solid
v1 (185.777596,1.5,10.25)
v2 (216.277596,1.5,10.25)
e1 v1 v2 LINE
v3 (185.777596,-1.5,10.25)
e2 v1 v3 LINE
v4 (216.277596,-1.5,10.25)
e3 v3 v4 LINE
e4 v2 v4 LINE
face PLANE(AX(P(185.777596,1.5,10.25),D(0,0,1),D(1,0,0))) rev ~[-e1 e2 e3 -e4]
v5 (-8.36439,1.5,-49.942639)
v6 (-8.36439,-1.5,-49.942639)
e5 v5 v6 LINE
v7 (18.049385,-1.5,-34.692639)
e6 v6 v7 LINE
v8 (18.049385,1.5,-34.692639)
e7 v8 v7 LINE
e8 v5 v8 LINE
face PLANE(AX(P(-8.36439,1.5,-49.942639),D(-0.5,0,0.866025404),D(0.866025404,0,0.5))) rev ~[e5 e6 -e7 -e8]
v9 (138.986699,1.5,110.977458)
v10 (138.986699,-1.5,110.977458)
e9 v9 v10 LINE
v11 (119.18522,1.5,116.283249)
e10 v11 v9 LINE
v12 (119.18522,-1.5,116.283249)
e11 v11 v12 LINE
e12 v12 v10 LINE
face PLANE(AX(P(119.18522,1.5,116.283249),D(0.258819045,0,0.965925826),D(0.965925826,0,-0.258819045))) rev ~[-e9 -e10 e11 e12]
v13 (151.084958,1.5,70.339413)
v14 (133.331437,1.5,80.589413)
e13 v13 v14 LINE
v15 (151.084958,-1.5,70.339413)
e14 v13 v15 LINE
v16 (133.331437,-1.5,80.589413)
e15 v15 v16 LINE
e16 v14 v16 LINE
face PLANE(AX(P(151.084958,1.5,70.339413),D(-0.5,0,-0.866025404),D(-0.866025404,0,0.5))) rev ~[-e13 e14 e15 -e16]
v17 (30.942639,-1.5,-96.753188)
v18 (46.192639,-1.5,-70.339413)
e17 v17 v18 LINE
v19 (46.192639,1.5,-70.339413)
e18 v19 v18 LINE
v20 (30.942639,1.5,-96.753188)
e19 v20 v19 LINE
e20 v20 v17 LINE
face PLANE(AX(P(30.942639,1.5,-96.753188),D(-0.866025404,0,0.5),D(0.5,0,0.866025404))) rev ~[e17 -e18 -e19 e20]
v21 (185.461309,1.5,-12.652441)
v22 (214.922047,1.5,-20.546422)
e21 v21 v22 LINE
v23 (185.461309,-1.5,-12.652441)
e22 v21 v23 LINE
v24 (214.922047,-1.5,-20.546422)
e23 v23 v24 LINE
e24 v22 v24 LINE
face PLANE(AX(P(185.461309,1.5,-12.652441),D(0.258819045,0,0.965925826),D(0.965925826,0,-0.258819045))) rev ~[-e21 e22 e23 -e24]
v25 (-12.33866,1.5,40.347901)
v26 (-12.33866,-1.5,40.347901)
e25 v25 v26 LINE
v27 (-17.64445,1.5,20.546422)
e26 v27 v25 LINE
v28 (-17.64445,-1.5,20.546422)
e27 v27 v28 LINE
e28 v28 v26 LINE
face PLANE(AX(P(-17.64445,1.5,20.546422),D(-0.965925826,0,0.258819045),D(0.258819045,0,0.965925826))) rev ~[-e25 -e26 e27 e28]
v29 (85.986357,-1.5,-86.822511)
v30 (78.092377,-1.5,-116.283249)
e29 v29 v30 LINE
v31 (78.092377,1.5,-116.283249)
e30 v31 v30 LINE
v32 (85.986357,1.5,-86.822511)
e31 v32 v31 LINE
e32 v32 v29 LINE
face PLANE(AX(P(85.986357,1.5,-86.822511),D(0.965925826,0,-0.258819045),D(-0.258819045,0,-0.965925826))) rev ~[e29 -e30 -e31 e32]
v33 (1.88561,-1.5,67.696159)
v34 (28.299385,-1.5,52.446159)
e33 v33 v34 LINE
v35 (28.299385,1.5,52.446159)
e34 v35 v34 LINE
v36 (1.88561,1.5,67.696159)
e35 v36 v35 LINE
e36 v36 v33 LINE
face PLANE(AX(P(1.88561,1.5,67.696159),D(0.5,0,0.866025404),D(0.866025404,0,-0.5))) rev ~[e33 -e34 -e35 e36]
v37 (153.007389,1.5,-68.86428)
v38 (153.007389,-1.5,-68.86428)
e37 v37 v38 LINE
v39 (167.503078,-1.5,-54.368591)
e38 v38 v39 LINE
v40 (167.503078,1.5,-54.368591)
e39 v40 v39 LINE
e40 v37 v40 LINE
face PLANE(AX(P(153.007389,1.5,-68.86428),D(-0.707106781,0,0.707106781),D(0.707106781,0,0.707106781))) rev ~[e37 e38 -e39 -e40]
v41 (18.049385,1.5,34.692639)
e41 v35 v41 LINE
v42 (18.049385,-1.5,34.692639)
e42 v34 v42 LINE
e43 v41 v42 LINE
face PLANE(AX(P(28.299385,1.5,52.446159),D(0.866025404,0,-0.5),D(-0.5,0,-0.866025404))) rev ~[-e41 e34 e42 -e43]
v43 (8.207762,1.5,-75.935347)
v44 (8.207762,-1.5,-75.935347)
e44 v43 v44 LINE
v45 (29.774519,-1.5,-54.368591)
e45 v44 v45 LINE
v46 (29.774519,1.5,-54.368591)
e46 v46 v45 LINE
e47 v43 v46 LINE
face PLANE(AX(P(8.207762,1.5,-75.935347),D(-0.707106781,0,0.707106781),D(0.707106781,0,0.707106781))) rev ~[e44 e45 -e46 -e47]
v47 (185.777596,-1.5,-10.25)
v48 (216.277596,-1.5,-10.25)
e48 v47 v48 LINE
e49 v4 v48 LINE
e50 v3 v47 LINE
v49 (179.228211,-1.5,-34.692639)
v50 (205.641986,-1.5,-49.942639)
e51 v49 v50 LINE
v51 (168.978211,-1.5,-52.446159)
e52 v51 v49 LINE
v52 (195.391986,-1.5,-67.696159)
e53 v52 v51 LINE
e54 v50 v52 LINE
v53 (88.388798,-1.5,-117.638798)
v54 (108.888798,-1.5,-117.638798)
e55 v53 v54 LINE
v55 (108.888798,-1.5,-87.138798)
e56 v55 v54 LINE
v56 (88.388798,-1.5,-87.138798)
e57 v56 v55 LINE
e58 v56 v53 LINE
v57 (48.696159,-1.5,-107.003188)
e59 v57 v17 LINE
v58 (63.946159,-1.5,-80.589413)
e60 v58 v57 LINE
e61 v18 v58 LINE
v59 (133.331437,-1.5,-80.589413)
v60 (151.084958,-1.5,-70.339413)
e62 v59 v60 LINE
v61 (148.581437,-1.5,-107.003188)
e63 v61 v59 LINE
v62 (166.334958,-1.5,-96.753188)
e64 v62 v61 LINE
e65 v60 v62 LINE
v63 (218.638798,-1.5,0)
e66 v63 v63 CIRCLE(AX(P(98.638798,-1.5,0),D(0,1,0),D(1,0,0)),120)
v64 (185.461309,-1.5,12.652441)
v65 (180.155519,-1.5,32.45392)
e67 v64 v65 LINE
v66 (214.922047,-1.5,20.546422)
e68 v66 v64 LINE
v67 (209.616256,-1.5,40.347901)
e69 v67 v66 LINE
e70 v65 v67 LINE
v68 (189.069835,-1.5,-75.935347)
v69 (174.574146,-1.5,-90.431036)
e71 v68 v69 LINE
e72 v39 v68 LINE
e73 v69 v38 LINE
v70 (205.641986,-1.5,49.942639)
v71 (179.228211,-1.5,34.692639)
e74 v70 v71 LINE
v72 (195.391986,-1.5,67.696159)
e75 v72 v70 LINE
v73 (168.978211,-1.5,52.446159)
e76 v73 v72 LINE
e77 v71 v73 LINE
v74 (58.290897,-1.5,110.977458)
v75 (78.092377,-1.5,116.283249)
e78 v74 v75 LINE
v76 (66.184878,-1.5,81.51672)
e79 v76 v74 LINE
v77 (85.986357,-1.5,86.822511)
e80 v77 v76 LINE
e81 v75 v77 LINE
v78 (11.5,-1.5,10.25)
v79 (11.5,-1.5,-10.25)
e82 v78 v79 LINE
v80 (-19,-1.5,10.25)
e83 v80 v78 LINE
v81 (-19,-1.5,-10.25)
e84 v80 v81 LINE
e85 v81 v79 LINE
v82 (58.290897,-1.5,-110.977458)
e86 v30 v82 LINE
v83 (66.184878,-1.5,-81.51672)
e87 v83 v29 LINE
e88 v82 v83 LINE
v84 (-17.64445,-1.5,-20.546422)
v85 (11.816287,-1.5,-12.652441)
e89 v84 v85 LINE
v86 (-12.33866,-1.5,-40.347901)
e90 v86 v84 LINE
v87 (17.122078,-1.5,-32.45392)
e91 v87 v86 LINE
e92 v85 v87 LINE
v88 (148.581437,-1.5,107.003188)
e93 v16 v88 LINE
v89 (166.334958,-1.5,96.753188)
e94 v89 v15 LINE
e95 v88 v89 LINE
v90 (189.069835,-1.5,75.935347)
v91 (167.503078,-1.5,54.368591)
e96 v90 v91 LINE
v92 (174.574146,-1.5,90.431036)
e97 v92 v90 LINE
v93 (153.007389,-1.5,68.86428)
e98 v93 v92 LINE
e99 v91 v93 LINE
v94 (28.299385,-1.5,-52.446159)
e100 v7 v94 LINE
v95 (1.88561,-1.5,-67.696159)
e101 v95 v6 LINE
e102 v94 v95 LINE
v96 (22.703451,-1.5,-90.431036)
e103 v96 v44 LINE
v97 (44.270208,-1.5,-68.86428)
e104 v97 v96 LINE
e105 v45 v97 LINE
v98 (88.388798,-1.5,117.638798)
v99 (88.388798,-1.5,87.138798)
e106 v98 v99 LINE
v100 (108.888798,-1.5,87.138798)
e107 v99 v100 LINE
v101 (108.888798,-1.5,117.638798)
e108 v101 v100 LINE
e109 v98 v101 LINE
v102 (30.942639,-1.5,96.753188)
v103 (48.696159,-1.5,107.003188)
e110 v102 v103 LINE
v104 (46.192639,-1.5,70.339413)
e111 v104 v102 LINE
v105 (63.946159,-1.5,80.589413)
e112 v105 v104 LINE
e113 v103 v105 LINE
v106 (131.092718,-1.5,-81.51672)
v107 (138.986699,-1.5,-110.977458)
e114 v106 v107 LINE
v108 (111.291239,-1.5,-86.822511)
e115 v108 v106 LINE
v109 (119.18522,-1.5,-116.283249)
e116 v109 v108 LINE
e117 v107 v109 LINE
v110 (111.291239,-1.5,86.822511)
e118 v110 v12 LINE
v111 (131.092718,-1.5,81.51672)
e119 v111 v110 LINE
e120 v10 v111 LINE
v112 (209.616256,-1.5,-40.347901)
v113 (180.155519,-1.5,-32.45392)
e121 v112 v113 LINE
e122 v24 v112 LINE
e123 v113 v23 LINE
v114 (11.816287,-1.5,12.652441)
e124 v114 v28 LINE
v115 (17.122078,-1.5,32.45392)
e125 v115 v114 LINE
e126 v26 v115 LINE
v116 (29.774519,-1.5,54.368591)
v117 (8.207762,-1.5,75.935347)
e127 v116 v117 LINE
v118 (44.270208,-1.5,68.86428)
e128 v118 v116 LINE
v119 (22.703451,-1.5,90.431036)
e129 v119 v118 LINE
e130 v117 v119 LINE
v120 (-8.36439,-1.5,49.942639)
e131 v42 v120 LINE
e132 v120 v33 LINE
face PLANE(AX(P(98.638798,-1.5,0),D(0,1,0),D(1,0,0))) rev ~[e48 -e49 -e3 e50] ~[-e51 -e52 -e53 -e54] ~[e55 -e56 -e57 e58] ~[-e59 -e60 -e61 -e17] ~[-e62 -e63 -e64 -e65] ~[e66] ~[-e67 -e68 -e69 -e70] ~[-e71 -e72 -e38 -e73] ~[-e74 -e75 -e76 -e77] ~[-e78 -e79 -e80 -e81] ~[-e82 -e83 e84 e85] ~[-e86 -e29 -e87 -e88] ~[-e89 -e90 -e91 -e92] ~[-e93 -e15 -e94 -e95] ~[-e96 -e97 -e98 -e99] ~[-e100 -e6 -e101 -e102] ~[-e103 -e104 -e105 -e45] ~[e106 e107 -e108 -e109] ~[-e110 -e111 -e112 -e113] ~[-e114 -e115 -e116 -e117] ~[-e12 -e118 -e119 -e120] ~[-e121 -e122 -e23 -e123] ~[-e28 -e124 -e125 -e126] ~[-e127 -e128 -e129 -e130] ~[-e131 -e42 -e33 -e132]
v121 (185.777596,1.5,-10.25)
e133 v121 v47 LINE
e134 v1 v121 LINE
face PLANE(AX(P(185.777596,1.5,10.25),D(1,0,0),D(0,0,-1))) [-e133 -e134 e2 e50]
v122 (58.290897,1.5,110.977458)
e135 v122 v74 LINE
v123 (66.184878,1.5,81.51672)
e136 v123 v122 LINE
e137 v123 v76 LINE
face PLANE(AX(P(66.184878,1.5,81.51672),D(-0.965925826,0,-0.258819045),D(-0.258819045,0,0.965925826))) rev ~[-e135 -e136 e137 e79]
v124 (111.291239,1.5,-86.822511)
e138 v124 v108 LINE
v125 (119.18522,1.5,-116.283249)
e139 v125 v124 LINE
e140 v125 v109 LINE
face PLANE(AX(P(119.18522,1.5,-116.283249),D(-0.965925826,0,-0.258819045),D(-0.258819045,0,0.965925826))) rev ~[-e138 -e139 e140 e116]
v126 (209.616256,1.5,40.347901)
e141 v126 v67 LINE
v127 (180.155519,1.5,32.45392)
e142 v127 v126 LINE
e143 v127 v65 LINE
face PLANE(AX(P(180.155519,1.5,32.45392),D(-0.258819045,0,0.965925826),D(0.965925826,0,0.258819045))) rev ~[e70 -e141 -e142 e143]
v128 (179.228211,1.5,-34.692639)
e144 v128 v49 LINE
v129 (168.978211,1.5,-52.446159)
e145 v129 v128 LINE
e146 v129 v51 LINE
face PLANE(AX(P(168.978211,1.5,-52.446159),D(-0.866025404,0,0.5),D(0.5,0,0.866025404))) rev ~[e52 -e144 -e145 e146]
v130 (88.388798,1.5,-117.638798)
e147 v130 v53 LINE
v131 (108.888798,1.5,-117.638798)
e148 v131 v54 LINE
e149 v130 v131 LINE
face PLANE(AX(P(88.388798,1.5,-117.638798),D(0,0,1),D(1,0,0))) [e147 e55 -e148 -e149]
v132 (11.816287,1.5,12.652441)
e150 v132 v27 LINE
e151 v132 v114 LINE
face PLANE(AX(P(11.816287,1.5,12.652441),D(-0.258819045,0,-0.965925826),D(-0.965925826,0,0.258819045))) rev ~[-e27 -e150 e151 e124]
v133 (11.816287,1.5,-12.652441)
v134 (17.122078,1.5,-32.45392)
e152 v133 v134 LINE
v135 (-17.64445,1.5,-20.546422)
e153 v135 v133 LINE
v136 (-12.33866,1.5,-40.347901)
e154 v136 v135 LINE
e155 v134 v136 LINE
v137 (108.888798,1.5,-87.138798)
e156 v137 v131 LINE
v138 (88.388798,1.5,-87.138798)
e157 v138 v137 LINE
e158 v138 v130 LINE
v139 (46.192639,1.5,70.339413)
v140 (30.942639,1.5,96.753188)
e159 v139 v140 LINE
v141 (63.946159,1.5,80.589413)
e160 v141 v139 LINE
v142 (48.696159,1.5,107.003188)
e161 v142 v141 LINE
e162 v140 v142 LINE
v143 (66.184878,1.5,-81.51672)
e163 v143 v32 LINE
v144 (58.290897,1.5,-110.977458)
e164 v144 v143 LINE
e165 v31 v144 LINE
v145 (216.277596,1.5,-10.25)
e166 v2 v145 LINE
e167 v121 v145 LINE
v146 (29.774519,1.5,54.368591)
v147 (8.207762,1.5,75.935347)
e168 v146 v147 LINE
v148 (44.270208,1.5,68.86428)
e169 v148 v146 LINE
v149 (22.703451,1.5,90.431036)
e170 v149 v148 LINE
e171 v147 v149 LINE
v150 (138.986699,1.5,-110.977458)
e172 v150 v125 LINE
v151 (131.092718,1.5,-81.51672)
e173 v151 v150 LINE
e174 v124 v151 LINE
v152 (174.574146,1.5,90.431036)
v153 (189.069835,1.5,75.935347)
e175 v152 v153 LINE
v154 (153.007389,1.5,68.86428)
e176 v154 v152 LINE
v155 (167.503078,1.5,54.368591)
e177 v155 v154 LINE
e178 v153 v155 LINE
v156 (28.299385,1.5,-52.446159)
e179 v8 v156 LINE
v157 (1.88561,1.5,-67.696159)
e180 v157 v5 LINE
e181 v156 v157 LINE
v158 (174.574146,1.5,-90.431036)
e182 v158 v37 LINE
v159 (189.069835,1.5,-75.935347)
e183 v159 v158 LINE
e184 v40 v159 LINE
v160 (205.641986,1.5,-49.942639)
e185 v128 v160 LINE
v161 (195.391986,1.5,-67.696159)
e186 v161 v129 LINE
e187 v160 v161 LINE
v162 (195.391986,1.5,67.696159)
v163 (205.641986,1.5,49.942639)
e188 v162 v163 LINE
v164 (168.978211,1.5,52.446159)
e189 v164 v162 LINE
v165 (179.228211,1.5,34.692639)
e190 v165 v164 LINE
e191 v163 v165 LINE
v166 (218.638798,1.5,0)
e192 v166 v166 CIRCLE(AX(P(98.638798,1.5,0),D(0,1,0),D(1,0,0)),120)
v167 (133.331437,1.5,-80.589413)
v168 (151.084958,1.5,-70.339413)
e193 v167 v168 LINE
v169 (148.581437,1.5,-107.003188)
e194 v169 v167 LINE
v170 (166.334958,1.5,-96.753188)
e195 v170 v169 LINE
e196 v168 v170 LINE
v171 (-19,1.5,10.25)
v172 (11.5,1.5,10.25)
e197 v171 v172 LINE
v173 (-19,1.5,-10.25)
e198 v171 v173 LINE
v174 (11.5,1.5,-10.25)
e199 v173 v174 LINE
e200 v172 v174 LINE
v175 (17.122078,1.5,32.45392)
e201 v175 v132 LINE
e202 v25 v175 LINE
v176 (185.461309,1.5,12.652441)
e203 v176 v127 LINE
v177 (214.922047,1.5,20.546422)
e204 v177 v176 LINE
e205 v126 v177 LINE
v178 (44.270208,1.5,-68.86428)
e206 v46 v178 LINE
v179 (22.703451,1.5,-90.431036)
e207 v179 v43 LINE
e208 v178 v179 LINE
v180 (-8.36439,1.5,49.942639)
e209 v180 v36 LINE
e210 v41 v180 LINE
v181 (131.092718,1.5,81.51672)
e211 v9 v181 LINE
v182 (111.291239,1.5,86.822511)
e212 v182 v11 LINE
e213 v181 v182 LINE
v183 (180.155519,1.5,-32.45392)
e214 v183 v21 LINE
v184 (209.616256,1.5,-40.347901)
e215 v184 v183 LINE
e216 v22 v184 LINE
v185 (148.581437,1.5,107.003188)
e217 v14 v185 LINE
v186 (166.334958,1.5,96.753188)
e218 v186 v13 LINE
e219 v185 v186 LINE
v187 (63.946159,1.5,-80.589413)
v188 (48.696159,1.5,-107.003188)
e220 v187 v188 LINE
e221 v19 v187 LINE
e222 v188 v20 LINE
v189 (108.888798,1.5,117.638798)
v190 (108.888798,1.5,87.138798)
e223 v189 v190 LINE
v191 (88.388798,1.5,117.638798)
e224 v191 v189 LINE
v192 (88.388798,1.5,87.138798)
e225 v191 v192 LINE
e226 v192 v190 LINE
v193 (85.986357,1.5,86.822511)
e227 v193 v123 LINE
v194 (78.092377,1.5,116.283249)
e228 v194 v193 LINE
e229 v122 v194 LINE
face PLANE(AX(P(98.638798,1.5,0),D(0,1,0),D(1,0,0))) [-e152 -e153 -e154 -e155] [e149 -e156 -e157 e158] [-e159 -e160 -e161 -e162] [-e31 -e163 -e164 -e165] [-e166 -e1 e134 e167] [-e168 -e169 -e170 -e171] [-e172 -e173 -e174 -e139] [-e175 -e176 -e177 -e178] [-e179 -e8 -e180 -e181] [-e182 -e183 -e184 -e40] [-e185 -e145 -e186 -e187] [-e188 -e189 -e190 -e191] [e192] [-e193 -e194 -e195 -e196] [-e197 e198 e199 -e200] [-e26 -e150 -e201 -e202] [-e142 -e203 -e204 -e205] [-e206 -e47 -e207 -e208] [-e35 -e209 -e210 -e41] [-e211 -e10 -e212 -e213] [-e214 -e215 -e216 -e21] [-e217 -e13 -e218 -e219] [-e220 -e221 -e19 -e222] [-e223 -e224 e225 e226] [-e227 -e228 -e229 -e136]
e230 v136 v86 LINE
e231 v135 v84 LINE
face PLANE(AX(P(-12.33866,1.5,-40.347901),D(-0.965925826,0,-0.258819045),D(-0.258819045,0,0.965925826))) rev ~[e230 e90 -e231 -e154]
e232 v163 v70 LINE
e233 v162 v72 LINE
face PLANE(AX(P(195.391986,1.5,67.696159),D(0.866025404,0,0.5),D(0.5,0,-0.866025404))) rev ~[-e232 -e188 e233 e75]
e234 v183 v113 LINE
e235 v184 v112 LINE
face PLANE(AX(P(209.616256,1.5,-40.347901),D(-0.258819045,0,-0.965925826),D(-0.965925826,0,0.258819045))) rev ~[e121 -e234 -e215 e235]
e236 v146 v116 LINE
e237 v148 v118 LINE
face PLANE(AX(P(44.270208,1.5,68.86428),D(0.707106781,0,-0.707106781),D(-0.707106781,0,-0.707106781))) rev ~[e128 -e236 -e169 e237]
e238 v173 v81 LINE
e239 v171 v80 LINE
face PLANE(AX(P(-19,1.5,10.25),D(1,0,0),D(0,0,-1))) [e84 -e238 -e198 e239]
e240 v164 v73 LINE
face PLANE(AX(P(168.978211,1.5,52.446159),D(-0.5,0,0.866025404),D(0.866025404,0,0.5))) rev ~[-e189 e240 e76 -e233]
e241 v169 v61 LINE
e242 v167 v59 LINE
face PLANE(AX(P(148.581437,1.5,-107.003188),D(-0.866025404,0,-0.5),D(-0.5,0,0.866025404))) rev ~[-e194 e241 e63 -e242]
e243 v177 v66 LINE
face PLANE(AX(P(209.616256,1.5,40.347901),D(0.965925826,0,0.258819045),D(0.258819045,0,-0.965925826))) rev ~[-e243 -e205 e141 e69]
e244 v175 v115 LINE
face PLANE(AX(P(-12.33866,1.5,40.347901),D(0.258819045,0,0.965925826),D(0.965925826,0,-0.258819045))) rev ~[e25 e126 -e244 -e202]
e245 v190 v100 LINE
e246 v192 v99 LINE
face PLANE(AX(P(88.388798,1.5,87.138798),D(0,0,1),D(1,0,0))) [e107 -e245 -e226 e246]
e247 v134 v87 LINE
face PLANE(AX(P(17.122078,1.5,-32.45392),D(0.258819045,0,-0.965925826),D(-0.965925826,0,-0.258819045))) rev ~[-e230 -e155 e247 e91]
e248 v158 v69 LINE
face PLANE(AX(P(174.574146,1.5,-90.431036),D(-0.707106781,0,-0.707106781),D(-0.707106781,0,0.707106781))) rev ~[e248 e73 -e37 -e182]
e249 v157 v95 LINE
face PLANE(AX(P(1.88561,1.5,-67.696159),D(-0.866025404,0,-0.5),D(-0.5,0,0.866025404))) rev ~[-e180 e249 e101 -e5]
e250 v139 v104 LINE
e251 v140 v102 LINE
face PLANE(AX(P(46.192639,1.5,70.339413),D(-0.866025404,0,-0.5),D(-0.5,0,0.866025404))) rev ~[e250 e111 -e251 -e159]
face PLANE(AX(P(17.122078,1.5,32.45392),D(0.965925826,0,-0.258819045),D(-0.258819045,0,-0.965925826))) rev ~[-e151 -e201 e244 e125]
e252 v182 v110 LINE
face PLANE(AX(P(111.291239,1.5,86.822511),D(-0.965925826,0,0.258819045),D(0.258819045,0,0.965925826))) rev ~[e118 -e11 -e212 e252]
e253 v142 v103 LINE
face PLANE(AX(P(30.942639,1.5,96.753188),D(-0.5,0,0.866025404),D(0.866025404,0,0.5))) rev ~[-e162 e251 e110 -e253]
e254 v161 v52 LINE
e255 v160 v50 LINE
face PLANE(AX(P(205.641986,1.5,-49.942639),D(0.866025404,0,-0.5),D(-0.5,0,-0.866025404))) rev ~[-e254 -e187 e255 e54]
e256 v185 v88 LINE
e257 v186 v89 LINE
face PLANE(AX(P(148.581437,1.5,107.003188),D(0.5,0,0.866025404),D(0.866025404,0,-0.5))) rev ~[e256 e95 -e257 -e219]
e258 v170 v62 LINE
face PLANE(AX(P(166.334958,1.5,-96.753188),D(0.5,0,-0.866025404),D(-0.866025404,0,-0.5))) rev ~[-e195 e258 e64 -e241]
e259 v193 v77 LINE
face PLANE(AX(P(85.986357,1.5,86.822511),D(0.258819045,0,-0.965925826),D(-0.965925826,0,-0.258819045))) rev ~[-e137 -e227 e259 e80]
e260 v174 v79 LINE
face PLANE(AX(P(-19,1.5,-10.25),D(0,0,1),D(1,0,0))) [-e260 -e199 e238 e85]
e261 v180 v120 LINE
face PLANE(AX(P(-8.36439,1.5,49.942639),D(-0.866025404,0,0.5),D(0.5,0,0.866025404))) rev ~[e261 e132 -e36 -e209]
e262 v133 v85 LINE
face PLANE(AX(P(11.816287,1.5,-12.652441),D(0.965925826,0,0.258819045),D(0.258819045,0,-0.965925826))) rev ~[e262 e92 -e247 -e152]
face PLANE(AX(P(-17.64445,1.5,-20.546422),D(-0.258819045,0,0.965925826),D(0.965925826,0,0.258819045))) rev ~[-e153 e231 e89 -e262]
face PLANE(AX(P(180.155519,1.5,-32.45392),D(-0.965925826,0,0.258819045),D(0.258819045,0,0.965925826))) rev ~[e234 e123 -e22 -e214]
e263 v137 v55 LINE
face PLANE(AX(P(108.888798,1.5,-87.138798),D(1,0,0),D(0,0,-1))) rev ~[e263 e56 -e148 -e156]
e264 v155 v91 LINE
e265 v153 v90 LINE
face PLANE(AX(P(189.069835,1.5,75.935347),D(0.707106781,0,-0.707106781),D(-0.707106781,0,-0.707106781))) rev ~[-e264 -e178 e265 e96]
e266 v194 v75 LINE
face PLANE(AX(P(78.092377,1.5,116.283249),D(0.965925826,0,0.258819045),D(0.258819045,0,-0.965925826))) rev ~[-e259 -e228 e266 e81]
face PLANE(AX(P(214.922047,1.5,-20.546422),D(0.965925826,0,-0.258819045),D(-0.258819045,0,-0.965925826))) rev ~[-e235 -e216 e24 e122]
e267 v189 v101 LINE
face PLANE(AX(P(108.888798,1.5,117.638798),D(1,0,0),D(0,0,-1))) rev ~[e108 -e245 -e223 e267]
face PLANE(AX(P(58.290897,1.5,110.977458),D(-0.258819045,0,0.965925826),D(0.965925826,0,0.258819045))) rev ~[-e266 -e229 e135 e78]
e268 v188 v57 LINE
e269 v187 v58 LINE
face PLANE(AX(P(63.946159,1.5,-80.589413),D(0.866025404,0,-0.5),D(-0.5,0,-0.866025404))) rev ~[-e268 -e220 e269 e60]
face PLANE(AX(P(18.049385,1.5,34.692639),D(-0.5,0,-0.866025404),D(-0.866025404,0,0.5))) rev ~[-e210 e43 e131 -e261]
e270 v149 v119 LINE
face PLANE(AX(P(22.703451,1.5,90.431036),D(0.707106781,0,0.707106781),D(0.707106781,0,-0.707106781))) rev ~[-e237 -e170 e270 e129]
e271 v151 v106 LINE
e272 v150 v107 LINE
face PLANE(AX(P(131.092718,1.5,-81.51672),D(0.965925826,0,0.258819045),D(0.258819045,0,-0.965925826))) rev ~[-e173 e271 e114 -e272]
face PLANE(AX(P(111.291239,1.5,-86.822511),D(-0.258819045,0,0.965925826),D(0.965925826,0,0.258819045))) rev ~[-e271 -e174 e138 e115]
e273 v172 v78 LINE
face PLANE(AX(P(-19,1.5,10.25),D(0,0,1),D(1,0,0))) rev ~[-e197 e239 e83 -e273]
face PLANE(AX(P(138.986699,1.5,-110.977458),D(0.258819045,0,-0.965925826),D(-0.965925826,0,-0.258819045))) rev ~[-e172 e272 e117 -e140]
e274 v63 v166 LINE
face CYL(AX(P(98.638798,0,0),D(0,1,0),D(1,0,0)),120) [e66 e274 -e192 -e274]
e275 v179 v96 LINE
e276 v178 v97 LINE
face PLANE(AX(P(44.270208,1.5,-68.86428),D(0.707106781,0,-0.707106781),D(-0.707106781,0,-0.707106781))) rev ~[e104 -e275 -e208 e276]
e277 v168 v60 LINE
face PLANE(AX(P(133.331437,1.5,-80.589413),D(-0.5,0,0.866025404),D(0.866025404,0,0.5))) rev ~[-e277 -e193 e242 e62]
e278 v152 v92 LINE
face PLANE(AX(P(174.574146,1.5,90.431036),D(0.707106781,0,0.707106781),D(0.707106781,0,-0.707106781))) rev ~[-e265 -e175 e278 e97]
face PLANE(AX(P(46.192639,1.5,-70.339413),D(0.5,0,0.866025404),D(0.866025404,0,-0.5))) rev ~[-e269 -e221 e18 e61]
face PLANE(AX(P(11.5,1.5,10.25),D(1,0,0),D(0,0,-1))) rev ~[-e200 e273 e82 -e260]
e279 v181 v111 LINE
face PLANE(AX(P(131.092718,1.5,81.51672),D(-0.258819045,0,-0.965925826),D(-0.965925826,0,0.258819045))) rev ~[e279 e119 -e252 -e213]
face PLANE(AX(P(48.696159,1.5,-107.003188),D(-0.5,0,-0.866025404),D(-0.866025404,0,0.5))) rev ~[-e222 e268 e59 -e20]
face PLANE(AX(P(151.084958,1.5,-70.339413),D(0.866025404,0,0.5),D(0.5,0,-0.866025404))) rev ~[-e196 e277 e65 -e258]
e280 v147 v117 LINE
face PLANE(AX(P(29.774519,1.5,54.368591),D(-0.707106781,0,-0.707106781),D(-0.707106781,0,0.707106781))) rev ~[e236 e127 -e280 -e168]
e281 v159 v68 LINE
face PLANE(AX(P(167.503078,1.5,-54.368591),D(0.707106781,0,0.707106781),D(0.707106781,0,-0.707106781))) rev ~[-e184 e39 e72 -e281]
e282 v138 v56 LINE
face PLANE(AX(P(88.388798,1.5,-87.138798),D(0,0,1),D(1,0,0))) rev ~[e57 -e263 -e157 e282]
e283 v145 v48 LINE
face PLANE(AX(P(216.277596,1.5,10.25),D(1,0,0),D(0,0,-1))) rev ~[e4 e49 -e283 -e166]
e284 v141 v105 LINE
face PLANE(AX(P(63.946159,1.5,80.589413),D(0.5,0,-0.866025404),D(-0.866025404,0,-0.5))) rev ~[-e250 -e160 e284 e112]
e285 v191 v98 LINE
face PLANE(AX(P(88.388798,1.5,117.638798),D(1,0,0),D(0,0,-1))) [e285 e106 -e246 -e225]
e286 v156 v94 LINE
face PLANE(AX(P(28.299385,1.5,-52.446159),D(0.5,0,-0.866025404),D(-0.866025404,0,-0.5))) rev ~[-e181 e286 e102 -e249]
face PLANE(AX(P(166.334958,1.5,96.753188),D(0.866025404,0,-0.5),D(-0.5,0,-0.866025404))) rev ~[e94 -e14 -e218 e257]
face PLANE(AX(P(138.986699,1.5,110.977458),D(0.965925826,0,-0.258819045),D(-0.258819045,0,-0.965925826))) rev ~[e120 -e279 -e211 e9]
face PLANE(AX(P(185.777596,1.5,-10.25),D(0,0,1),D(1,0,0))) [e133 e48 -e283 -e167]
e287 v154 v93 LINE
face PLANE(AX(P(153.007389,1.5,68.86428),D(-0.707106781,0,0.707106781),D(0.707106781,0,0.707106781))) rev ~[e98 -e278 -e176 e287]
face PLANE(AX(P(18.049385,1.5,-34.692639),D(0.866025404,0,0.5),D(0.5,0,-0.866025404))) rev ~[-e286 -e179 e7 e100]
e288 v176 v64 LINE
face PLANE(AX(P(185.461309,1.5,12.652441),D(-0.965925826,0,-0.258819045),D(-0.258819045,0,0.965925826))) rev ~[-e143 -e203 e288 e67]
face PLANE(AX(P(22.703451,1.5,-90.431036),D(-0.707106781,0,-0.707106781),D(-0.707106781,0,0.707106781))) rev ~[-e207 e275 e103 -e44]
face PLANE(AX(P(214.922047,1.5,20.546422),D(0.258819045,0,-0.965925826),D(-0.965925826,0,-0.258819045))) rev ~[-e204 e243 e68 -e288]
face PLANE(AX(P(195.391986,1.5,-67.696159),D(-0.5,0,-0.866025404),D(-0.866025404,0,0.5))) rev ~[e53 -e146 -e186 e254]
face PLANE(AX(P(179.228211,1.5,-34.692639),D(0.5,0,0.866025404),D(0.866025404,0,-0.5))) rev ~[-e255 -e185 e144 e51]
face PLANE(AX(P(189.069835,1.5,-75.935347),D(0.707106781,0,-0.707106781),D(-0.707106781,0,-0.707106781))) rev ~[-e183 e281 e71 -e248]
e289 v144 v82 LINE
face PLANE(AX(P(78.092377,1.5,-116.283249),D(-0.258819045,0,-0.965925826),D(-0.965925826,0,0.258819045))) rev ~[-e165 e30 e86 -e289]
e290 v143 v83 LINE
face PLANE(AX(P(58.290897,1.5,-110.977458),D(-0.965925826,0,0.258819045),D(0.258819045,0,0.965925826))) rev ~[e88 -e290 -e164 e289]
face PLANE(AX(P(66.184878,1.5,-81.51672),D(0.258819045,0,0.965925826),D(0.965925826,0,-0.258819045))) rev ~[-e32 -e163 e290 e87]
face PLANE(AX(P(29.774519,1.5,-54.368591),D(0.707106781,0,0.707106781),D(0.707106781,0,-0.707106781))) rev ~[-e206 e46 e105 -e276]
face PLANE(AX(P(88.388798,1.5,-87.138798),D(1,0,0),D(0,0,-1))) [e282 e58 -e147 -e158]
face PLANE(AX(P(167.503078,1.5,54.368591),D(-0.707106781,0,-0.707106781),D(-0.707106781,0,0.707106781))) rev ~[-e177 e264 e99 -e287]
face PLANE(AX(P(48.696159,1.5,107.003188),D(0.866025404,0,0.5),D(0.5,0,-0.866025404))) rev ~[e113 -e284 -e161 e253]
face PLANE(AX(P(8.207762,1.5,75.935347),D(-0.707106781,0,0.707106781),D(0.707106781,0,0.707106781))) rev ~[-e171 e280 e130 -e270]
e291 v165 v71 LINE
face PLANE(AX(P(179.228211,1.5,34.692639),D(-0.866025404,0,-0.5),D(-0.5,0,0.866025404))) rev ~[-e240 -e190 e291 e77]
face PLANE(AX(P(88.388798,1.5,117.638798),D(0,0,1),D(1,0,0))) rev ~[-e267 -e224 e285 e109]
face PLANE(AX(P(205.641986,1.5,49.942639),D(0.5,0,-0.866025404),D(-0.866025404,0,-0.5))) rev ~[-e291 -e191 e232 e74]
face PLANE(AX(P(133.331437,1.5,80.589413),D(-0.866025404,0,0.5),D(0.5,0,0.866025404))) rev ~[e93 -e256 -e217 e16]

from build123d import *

# Parameters (mm, degrees)
SKETCH1_R           = 120
BOSS_EXTRUDE1_DEPTH = 1.5
SKETCH6_W           = 30.5
SKETCH6_H           = 20.5
SKETCH6_W_2         = 20.5
SKETCH6_H_2         = 30.5
CUT_EXTRUDE1_DEPTH  = 10.5


with BuildPart() as part:
    # Sketch1 → Boss-Extrude1 (new, symmetric)
    with BuildSketch(Plane(origin=(0, 0, 0), x_dir=(1, 0, 0), z_dir=(0, 1, 0))):
        with Locations((98.638798209, 0)):
            Circle(SKETCH1_R)
    extrude(amount=BOSS_EXTRUDE1_DEPTH, both=True)

    # Sketch6 → Cut-Extrude1 (cut)
    with BuildSketch(Plane(origin=(0, 1.5, 0), x_dir=(1, 0, 0), z_dir=(0, 1, 0))):
        with Locations((-3.75, 0)):
            Rectangle(SKETCH6_W, SKETCH6_H)
        Polygon((-12.338659942, 40.347901139), (-17.644450367, 20.5464217), (11.816287335, 12.652440824), (17.122077759, 32.453920263), align=None)
        Polygon((1.885610489, 67.696159493), (-8.364389511, 49.942638716), (18.049385305, 34.692638716), (28.299385305, 52.446159493), align=None)
        Polygon((22.703450772, 90.431036452), (8.207761758, 75.935347437), (29.774518584, 54.368590611), (44.270207598, 68.864279625), align=None)
        Polygon((48.696159493, 107.00318772), (30.942638716, 96.75318772), (46.192638716, 70.339412904), (63.946159493, 80.589412904), align=None)
        Polygon((78.092376509, 116.283248576), (58.29089707, 110.977458152), (66.184877946, 81.51672045), (85.986357385, 86.822510874), align=None)
        with Locations((98.638798209, 102.388798209)):
            Rectangle(SKETCH6_W_2, SKETCH6_H_2)
        Polygon((138.986699348, 110.977458152), (119.185219909, 116.283248576), (111.291239034, 86.822510874), (131.092718473, 81.51672045), align=None)
        Polygon((166.334957703, 96.75318772), (148.581436925, 107.00318772), (133.331436925, 80.589412904), (151.084957703, 70.339412904), align=None)
        Polygon((189.069834661, 75.935347437), (174.574145646, 90.431036452), (153.00738882, 68.864279625), (167.503077834, 54.368590611), align=None)
        Polygon((205.641985929, 49.942638716), (195.391985929, 67.696159493), (168.978211114, 52.446159493), (179.228211114, 34.692638716), align=None)
        Polygon((214.922046785, 20.5464217), (209.616256361, 40.347901139), (180.155518659, 32.453920263), (185.461309084, 12.652440824), align=None)
        with Locations((201.027596418, 0)):
            Rectangle(SKETCH6_W, SKETCH6_H)
        Polygon((209.616256361, -40.347901139), (214.922046785, -20.5464217), (185.461309084, -12.652440824), (180.155518659, -32.453920263), align=None)
        Polygon((195.391985929, -67.696159493), (205.641985929, -49.942638716), (179.228211114, -34.692638716), (168.978211114, -52.446159493), align=None)
        Polygon((174.574145646, -90.431036451), (189.069834661, -75.935347437), (167.503077835, -54.368590611), (153.00738882, -68.864279625), align=None)
        Polygon((148.581436925, -107.00318772), (166.334957703, -96.75318772), (151.084957703, -70.339412904), (133.331436925, -80.589412904), align=None)
        Polygon((119.185219909, -116.283248576), (138.986699348, -110.977458152), (131.092718473, -81.51672045), (111.291239034, -86.822510874), align=None)
        with Locations((98.638798209, -102.388798209)):
            Rectangle(SKETCH6_W_2, SKETCH6_H_2)
        Polygon((58.29089707, -110.977458152), (78.092376509, -116.283248576), (85.986357385, -86.822510874), (66.184877946, -81.51672045), align=None)
        Polygon((30.942638716, -96.75318772), (48.696159493, -107.00318772), (63.946159493, -80.589412904), (46.192638716, -70.339412904), align=None)
        Polygon((8.207761758, -75.935347437), (22.703450772, -90.431036452), (44.270207598, -68.864279625), (29.774518584, -54.368590611), align=None)
        Polygon((-8.364389511, -49.942638716), (1.885610489, -67.696159493), (28.299385305, -52.446159493), (18.049385305, -34.692638716), align=None)
        Polygon((-17.644450367, -20.5464217), (-12.338659942, -40.347901139), (17.122077759, -32.453920263), (11.816287335, -12.652440824), align=None)
    extrude(amount=-CUT_EXTRUDE1_DEPTH, mode=Mode.SUBTRACT)


solid = part.part
